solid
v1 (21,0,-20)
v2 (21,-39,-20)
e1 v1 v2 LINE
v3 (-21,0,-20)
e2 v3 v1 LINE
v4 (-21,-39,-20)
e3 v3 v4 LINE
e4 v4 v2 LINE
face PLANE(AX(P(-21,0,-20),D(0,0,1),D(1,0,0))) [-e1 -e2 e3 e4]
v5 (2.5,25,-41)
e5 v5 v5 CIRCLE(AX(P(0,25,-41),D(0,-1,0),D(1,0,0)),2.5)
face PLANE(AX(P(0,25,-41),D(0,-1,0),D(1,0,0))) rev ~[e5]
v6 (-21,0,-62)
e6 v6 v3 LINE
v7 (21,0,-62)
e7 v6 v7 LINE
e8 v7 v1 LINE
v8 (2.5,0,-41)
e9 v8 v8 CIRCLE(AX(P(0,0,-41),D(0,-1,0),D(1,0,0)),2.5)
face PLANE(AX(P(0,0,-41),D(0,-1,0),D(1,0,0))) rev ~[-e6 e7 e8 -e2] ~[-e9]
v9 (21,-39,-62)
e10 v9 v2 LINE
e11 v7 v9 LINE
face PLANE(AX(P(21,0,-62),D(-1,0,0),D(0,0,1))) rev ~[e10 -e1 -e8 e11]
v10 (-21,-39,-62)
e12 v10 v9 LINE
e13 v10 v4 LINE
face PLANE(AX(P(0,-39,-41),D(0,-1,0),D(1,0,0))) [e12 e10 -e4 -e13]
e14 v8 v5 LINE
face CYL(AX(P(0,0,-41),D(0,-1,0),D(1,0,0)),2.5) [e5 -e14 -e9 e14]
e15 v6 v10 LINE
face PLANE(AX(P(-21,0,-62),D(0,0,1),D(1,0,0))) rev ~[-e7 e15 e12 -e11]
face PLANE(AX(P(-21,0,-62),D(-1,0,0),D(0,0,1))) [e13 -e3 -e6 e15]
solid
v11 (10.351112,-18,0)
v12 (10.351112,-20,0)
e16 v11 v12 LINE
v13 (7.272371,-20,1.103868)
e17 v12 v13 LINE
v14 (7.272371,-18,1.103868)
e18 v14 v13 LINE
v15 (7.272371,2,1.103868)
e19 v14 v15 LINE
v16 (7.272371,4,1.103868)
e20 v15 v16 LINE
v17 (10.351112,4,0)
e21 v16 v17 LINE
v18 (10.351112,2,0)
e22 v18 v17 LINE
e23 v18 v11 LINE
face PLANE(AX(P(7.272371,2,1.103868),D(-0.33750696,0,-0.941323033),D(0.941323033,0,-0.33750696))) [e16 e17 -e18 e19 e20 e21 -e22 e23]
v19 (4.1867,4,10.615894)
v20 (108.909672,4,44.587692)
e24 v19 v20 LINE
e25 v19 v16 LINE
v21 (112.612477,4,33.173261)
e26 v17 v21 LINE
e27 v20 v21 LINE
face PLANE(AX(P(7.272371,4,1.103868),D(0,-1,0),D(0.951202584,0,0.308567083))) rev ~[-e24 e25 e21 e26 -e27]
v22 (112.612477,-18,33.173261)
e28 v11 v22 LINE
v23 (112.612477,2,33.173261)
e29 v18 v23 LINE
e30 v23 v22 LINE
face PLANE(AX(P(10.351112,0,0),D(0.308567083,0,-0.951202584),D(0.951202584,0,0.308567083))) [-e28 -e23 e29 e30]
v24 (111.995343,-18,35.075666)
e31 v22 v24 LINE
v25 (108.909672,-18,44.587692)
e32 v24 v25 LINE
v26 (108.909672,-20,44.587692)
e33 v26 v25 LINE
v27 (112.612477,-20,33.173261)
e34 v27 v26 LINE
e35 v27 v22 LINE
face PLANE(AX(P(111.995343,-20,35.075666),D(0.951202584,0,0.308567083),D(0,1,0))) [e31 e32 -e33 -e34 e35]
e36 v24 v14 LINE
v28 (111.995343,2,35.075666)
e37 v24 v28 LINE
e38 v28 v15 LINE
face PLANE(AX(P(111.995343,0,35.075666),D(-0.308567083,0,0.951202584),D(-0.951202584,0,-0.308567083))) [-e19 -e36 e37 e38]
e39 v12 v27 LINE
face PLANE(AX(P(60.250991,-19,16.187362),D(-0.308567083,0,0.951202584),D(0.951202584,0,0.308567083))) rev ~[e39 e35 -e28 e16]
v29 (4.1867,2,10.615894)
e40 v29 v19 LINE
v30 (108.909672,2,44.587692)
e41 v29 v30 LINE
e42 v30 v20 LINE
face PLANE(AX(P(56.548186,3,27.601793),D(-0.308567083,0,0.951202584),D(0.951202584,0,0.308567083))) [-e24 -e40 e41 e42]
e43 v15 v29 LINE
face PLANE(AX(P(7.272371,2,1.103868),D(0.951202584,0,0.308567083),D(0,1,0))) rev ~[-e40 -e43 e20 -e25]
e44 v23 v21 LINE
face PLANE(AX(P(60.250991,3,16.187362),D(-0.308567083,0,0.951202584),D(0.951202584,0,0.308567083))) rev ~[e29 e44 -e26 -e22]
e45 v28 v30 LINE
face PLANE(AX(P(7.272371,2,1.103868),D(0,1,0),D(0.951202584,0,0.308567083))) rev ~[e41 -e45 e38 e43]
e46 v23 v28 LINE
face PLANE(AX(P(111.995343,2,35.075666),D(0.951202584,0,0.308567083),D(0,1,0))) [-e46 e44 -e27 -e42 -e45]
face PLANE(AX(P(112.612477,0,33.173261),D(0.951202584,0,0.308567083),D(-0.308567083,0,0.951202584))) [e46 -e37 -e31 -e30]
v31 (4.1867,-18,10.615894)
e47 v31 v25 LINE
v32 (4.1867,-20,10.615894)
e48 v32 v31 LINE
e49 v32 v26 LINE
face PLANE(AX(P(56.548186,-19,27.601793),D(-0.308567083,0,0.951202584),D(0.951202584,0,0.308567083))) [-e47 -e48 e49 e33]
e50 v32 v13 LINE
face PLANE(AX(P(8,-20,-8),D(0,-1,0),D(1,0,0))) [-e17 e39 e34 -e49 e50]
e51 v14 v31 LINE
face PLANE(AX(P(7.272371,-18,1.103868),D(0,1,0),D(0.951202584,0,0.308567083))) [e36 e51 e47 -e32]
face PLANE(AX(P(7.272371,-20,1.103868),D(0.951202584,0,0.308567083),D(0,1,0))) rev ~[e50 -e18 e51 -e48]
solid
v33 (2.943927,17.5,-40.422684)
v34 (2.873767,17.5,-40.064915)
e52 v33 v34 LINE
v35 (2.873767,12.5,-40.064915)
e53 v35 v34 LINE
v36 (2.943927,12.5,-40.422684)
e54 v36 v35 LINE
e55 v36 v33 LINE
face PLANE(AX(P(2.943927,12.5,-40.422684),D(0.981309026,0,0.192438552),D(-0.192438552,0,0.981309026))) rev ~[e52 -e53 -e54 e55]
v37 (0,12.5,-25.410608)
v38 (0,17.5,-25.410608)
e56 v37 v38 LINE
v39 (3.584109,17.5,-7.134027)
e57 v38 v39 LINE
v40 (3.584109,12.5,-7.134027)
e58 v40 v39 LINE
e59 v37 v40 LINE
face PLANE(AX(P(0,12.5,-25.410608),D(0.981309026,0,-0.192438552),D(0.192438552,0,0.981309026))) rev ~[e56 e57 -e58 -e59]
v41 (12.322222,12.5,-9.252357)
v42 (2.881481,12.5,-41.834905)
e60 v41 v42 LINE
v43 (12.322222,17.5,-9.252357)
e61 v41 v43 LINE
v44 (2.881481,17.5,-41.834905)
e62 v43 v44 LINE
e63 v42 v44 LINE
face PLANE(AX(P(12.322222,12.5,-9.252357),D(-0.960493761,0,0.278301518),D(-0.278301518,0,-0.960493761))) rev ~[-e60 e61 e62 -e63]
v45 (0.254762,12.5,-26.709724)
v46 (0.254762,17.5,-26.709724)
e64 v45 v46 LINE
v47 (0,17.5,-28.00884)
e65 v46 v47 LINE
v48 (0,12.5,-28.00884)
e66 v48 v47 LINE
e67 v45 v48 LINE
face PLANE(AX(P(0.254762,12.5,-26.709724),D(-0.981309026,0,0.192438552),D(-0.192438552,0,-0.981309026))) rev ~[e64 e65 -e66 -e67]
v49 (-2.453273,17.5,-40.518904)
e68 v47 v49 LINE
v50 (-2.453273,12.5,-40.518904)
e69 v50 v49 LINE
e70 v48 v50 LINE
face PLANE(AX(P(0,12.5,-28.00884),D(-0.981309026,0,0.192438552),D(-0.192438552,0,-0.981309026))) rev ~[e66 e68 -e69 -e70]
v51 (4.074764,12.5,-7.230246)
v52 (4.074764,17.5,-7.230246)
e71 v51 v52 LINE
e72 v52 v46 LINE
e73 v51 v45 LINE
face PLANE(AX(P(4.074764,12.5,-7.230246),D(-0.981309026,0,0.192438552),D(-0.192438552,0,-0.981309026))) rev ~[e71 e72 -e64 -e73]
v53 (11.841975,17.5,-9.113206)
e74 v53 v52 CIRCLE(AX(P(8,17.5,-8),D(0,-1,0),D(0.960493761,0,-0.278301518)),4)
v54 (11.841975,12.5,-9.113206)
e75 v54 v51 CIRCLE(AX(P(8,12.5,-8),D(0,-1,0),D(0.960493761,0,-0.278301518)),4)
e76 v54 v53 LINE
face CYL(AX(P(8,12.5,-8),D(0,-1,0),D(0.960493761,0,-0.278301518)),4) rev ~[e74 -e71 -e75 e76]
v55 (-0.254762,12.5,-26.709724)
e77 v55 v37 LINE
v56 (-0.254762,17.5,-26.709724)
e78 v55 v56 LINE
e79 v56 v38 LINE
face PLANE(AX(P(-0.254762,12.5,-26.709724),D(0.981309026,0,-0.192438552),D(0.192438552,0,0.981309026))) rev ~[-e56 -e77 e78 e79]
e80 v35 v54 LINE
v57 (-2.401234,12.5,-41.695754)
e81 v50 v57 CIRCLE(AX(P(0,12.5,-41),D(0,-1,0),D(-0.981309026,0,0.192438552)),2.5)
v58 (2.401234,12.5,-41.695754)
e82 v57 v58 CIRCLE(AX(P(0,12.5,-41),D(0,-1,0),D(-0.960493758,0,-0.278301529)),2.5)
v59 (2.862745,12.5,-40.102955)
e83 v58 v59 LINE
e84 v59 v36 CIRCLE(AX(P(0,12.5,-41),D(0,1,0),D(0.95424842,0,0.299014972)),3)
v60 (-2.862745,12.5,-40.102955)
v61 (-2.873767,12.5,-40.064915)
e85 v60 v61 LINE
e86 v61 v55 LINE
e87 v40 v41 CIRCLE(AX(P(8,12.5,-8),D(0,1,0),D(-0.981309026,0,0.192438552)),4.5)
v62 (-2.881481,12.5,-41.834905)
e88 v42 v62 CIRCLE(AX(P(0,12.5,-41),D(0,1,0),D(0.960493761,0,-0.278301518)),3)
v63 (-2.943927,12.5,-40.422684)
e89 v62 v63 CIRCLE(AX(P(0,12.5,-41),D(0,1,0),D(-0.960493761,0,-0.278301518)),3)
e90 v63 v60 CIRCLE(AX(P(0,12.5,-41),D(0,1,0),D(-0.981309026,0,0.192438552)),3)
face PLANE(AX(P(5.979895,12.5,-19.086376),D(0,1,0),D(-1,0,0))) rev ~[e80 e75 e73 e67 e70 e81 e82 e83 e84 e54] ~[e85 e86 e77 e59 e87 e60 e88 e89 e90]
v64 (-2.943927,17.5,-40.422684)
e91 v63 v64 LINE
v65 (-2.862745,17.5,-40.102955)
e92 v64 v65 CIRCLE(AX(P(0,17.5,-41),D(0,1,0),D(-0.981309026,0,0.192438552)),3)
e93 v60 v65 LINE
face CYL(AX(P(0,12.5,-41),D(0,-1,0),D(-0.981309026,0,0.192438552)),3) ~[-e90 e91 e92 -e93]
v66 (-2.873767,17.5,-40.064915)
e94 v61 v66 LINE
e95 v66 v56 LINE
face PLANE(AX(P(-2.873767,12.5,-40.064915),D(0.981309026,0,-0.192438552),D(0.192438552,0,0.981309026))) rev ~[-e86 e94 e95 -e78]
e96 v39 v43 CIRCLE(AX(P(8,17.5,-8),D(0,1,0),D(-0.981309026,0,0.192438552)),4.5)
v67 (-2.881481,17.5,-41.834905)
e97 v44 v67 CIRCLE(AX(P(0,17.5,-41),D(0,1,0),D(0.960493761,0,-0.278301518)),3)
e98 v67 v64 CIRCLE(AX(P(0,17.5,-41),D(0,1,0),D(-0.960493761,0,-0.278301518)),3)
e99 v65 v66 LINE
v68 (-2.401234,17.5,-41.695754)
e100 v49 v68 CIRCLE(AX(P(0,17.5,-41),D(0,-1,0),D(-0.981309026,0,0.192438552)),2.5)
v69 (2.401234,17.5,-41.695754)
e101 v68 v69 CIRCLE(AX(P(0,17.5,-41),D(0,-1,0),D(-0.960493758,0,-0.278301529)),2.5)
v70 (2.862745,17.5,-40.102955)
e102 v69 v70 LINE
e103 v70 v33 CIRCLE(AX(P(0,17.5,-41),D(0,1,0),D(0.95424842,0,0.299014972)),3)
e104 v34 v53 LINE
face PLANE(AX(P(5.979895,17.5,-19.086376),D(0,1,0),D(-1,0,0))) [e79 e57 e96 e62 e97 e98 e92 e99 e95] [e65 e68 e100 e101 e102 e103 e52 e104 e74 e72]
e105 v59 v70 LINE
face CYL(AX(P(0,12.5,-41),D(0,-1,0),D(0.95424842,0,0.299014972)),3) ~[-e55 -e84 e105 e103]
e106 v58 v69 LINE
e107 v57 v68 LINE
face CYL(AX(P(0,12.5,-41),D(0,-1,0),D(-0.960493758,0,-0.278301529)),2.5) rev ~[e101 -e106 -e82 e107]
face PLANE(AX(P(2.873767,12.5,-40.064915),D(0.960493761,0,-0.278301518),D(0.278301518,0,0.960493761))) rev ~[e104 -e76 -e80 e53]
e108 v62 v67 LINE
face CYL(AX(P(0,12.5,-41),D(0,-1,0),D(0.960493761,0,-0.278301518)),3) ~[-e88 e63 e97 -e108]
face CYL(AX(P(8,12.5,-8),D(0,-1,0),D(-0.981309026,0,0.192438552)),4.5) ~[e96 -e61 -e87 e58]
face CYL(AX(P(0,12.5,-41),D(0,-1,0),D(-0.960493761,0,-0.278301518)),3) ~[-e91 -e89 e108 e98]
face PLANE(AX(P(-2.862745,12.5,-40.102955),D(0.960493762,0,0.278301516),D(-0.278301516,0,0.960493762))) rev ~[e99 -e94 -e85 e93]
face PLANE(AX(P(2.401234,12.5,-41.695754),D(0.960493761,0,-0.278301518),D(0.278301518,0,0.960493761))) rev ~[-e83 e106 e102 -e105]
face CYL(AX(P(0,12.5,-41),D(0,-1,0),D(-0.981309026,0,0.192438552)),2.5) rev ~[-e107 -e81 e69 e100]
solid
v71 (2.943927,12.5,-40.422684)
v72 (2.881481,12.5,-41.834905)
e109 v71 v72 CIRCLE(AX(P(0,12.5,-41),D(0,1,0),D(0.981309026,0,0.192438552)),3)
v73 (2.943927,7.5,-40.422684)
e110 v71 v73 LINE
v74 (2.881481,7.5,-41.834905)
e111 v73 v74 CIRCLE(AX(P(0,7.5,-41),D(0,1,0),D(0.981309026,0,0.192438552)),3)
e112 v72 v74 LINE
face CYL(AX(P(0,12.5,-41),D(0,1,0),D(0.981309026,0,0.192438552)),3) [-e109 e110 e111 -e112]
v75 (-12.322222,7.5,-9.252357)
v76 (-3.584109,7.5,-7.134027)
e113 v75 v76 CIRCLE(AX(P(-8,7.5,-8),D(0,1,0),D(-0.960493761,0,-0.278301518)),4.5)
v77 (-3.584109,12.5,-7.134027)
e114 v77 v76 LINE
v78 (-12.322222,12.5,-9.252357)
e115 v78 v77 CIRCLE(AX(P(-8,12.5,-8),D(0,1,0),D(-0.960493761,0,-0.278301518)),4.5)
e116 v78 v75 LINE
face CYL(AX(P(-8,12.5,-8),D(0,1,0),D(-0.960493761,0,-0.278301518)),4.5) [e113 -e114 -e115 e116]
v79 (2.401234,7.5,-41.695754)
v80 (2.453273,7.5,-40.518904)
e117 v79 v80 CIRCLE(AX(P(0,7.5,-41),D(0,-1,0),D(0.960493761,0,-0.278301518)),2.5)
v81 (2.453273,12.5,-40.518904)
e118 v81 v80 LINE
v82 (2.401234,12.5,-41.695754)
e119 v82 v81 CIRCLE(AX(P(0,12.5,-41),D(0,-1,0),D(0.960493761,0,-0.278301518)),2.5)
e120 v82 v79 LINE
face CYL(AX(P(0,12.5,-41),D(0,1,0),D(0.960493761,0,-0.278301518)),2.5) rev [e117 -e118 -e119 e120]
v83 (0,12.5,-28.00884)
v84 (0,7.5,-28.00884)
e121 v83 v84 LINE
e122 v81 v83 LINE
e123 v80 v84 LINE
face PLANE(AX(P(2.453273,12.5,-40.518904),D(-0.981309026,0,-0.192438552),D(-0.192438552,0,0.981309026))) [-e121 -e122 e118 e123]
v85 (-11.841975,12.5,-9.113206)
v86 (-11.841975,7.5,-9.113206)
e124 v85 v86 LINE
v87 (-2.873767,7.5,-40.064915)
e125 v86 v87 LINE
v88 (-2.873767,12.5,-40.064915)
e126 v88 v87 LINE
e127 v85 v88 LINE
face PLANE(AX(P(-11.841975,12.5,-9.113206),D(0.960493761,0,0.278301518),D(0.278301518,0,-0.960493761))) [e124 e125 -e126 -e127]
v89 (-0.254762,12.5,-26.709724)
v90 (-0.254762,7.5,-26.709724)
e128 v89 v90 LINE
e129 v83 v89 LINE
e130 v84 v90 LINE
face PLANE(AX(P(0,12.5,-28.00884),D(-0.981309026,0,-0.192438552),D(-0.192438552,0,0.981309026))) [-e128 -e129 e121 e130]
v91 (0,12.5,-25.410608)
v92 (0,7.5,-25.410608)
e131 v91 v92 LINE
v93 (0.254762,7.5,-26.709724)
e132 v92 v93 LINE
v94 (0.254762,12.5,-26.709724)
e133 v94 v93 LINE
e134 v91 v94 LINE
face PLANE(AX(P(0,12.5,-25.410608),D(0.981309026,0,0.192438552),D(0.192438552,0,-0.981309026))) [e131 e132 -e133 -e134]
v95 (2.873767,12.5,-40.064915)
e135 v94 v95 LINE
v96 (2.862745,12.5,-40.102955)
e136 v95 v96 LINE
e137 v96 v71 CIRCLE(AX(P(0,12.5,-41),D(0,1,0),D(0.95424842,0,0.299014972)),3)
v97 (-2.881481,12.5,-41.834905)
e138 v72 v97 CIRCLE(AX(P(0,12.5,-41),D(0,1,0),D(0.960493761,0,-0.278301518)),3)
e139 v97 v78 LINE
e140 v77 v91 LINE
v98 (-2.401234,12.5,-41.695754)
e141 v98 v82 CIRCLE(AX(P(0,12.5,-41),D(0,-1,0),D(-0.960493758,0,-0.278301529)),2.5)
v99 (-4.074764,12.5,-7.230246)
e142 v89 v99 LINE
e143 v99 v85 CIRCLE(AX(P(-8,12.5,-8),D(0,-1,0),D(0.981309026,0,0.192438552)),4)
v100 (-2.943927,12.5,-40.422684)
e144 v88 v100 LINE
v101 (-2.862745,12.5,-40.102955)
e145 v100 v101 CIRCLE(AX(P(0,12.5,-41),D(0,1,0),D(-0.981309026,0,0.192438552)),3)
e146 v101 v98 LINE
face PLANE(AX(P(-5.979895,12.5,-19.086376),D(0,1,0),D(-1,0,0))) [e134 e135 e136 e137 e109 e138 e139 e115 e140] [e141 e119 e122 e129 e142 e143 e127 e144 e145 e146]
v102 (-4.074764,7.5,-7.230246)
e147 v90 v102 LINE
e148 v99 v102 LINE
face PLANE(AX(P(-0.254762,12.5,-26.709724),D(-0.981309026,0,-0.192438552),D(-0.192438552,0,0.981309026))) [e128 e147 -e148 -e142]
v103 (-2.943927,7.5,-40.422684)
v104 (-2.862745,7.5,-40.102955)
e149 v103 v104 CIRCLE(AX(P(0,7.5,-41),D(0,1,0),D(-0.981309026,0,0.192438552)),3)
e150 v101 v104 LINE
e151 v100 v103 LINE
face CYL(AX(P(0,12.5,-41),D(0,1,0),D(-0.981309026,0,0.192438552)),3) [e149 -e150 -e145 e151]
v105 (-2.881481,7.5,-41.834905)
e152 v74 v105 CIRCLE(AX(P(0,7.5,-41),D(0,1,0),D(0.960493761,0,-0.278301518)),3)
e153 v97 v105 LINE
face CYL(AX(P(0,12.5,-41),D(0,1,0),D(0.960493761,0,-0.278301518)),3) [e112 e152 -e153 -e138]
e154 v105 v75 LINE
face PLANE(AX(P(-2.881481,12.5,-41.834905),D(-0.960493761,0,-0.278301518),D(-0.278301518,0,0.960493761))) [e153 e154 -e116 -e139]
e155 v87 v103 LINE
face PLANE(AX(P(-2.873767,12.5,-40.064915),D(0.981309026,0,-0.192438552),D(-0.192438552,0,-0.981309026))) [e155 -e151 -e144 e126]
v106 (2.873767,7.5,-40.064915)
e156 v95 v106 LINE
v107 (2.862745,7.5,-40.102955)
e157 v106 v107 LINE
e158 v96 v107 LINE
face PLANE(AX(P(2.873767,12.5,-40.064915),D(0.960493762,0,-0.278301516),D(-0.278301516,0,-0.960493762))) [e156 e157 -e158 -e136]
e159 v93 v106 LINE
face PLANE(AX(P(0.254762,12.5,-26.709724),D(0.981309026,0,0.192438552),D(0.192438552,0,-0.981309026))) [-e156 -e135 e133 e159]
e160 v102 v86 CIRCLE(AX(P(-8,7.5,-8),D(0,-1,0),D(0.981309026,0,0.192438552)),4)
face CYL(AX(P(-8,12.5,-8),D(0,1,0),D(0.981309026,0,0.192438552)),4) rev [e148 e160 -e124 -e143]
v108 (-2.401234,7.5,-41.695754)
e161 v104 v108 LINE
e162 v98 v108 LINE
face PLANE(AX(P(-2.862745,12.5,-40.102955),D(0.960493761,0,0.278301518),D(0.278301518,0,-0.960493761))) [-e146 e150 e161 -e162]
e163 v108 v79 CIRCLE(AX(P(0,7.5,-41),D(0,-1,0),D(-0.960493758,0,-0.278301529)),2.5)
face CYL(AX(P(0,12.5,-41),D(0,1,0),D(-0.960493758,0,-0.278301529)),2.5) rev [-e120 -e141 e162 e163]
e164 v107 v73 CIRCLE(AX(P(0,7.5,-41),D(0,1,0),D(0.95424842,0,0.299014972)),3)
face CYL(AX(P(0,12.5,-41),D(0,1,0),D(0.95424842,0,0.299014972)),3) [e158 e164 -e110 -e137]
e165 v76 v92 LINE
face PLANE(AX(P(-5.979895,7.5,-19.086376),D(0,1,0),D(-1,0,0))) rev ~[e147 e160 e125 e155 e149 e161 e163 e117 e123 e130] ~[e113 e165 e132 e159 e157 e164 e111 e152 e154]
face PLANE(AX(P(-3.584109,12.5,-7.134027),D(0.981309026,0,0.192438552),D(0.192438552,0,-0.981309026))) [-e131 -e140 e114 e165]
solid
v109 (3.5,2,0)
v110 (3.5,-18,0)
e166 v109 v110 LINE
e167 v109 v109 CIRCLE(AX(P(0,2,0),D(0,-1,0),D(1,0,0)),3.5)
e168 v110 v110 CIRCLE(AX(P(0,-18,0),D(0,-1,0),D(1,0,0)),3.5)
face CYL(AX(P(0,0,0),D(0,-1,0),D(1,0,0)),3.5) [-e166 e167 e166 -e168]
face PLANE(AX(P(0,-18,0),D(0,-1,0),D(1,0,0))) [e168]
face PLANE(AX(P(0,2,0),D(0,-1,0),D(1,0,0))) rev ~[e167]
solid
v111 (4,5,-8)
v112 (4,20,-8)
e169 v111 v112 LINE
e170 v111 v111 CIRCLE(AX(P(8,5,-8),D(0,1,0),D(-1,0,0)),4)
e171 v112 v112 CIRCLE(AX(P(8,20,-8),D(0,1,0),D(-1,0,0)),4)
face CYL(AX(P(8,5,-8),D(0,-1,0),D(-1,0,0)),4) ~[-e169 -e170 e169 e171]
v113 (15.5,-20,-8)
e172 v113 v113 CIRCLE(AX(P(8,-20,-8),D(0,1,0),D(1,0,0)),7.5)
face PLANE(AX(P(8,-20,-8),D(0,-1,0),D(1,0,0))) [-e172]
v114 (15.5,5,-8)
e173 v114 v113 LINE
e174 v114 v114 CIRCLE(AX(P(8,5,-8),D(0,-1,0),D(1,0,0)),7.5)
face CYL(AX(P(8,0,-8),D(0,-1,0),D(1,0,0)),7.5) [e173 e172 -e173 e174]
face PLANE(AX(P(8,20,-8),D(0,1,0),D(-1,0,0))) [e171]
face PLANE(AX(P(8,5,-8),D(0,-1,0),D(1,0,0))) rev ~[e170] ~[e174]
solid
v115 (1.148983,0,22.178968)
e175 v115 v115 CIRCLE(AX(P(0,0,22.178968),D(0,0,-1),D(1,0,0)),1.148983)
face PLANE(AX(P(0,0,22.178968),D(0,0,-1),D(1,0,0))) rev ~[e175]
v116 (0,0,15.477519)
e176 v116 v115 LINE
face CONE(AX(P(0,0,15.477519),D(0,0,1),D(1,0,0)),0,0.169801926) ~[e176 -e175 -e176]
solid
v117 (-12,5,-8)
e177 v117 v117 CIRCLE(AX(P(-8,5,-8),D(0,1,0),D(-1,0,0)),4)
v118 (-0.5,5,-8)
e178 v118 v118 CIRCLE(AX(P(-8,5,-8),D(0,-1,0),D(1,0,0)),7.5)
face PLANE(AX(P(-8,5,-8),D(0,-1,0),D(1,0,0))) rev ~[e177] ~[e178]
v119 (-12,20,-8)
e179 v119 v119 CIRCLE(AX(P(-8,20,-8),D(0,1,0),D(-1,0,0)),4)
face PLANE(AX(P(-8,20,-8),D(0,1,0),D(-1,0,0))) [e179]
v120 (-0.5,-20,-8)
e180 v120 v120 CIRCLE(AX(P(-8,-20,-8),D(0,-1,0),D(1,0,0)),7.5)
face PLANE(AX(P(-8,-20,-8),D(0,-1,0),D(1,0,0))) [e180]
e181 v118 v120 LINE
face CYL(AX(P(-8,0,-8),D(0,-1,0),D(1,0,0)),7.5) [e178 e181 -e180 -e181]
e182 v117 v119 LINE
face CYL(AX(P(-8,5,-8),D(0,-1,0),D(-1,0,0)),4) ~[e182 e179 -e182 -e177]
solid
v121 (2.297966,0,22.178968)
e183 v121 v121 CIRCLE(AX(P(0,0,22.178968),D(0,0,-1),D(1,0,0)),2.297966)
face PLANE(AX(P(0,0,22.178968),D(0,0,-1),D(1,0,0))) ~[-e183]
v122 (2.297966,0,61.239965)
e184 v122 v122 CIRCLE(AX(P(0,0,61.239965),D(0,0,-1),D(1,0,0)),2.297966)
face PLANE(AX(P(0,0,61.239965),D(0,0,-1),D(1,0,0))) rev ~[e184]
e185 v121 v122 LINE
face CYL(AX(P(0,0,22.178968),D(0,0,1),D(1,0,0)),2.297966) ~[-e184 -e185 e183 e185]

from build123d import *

# Parameters (mm, degrees)
F0_R           = 7.5
F1_DEPTH       = 20
F1_DEPTH_BACK  = 5
F0_W           = 42
F0_H           = 42
F0_R_2         = 2.5
F2_DEPTH       = 39
F0_R_3         = 3.5
F3_DEPTH       = 18
F3_DEPTH_BACK  = 2
F4_DEPTH       = 39
F5_DEPTH       = 25
F6_R           = 4
F7_DEPTH       = 15
F10_DEPTH      = 5
F11_DEPTH      = 5
F16_DEPTH      = 18
F16_DEPTH_BACK = 2
F17_W          = 110.0953395209
F17_H          = 2
F18_DEPTH      = 10
F18_DEPTH_BACK = 2
F19_DEPTH      = 25
F20_DEPTH      = 25


with BuildPart() as f1:
    # F0 (on Front) → F1 (new body, two sides)
    with BuildSketch(Plane.XZ) as f1_sk:
        with Locations((-8, -8)):
            Circle(F0_R)
    extrude(amount=F1_DEPTH)
    extrude(f1_sk.sketch, amount=-F1_DEPTH_BACK)

    # F6 (on face) → F7, piece 2 (join)
    with BuildSketch(Plane(origin=(0, 5, 0), x_dir=(-1, 0, 0), z_dir=(0, 1, 0))):
        with Locations((8, -8)):
            Circle(F6_R)
    extrude(amount=F7_DEPTH)


with BuildPart() as f1b:
    # F0 (on Front) → F1, piece 2 (new body, two sides)
    with BuildSketch(Plane.XZ) as f1_2_sk:
        with Locations((8, -8)):
            Circle(F0_R)
    extrude(amount=F1_DEPTH)
    extrude(f1_2_sk.sketch, amount=-F1_DEPTH_BACK)

    # F6 (on face) → F7 (join)
    with BuildSketch(Plane(origin=(0, 5, 0), x_dir=(-1, 0, 0), z_dir=(0, 1, 0))):
        with Locations((-8, -8)):
            Circle(F6_R)
    extrude(amount=F7_DEPTH)



with BuildPart() as f2:
    # F0 (on Front) → F2 (new body)
    with BuildSketch(Plane.XZ):
        with Locations((0, -41)):
            Rectangle(F0_W, F0_H)
        with Locations((0, -41)):
            Circle(F0_R_2, mode=Mode.SUBTRACT)
    extrude(amount=F2_DEPTH)

    # F0 (on Front) → F4 (join)
    with BuildSketch(Plane.XZ):
        with Locations((0, -41)):
            Circle(F0_R_2)
    extrude(amount=F4_DEPTH)

    # F0 (on Front) → F5 (join)
    with BuildSketch(Plane.XZ):
        with Locations((0, -41)):
            Circle(F0_R_2)
    extrude(amount=-F5_DEPTH)


with BuildPart() as f3:
    # F0 (on Front) → F3 (new body, two sides)
    with BuildSketch(Plane.XZ) as f3_sk:
        Circle(F0_R_3)
    extrude(amount=F3_DEPTH)
    extrude(f3_sk.sketch, amount=-F3_DEPTH_BACK)


with BuildPart() as f10:
    # F9 (on offset) → F10 (new body)
    with BuildSketch(Plane(origin=(0, 12.5, 0), x_dir=(-1, 0, 0), z_dir=(0, 1, 0))):
        with BuildLine():
            Line((0, -25.4106080933), (-3.5841093846, -7.1340265175))
            ThreePointArc((-3.5841093846, -7.1340265175), (-9.0602001153, -3.6266745244), (-12.3222219251, -9.2523568303))
            Line((-12.3222219251, -9.2523568303), (-2.8814812834, -41.8349045535))
            ThreePointArc((-2.8814812834, -41.8349045535), (-2.997071424, -41.1325250144), (-2.943927077, -40.422684345))
            Line((-2.943927077, -40.422684345), (-2.8737671883, -40.0649154294))
            Line((-2.8737671883, -40.0649154294), (-11.8419750445, -9.1132060714))
            ThreePointArc((-11.8419750445, -9.1132060714), (-8.9424001025, -4.1125995772), (-4.0747638974, -7.2302457933))
            Line((-4.0747638974, -7.2302457933), (-0.2547617452, -26.7097240855))
            Line((-0.2547617452, -26.7097240855), (0, -25.4106080933))
        make_face()
        Polygon((0.2547617452, -26.7097240855), (0, -25.4106080933), (-0.2547617452, -26.7097240855), (0, -28.0088400777), align=None)
        with BuildLine():
            Line((2.8737671883, -40.0649154294), (0.2547617452, -26.7097240855))
            Line((0.2547617452, -26.7097240855), (0, -28.0088400777))
            Line((0, -28.0088400777), (2.4532725641, -40.5189036208))
            ThreePointArc((2.4532725641, -40.5189036208), (2.4975595193, -41.110437527), (2.4012343945, -41.6957538234))
            Line((2.4012343945, -41.6957538234), (2.8627452595, -40.1029550851))
            Line((2.8627452595, -40.1029550851), (2.8737671883, -40.0649154294))
        make_face()
        with BuildLine():
            ThreePointArc((-2.943927077, -40.422684345), (-2.997071424, -41.1325250144), (-2.8814812834, -41.8349045535))
            ThreePointArc((-2.8814812834, -41.8349045535), (0, -44), (2.8814812834, -41.8349045535))
            ThreePointArc((2.8814812834, -41.8349045535), (2.997071424, -41.1325250144), (2.943927077, -40.422684345))
            ThreePointArc((2.943927077, -40.422684345), (2.9077341016, -40.2617030445), (2.8627452595, -40.1029550851))
            Line((2.8627452595, -40.1029550851), (2.4012343945, -41.6957538234))
            ThreePointArc((2.4012343945, -41.6957538234), (-1.5e-08, -43.5), (-2.4012344028, -41.6957537946))
            Line((-2.4012344028, -41.6957537946), (-2.8627452595, -40.1029550851))
            ThreePointArc((-2.8627452595, -40.1029550851), (-2.9077341016, -40.2617030445), (-2.943927077, -40.422684345))
        make_face()
    extrude(amount=F10_DEPTH)


with BuildPart() as f11:
    # F9 (on offset) → F11 (new body)
    with BuildSketch(Plane(origin=(0, 12.5, 0), x_dir=(-1, 0, 0), z_dir=(0, 1, 0))):
        with BuildLine():
            Line((3.5841093846, -7.1340265175), (0, -25.4106080933))
            Line((0, -25.4106080933), (0.2547617452, -26.7097240855))
            Line((0.2547617452, -26.7097240855), (4.0747638974, -7.2302457933))
            ThreePointArc((4.0747638974, -7.2302457933), (8.9424001025, -4.1125995772), (11.8419750445, -9.1132060714))
            Line((11.8419750445, -9.1132060714), (2.8737671883, -40.0649154294))
            Line((2.8737671883, -40.0649154294), (2.943927077, -40.422684345))
            ThreePointArc((2.943927077, -40.422684345), (2.997071424, -41.1325250144), (2.8814812834, -41.8349045535))
            Line((2.8814812834, -41.8349045535), (12.3222219251, -9.2523568303))
            ThreePointArc((12.3222219251, -9.2523568303), (9.0602001153, -3.6266745244), (3.5841093846, -7.1340265175))
        make_face()
        Polygon((0.2547617452, -26.7097240855), (0, -25.4106080933), (-0.2547617452, -26.7097240855), (0, -28.0088400777), align=None)
        with BuildLine():
            Line((0, -28.0088400777), (-0.2547617452, -26.7097240855))
            Line((-0.2547617452, -26.7097240855), (-2.8737671883, -40.0649154294))
            Line((-2.8737671883, -40.0649154294), (-2.8627452595, -40.1029550851))
            Line((-2.8627452595, -40.1029550851), (-2.4012344028, -41.6957537946))
            ThreePointArc((-2.4012344028, -41.6957537946), (-2.49755952, -41.110437512), (-2.4532725641, -40.5189036208))
            Line((-2.4532725641, -40.5189036208), (0, -28.0088400777))
        make_face()
        with BuildLine():
            ThreePointArc((-2.943927077, -40.422684345), (-2.997071424, -41.1325250144), (-2.8814812834, -41.8349045535))
            ThreePointArc((-2.8814812834, -41.8349045535), (0, -44), (2.8814812834, -41.8349045535))
            ThreePointArc((2.8814812834, -41.8349045535), (2.997071424, -41.1325250144), (2.943927077, -40.422684345))
            ThreePointArc((2.943927077, -40.422684345), (2.9077341016, -40.2617030445), (2.8627452595, -40.1029550851))
            Line((2.8627452595, -40.1029550851), (2.4012343945, -41.6957538234))
            ThreePointArc((2.4012343945, -41.6957538234), (-1.5e-08, -43.5), (-2.4012344028, -41.6957537946))
            Line((-2.4012344028, -41.6957537946), (-2.8627452595, -40.1029550851))
            ThreePointArc((-2.8627452595, -40.1029550851), (-2.9077341016, -40.2617030445), (-2.943927077, -40.422684345))
        make_face()
    extrude(amount=-F11_DEPTH)


with BuildPart() as f13:
    # F12 (on Front) → F13 (revolve)
    with BuildSketch(Plane.XZ):
        Polygon((2.2979662754, 61.23996526), (0, 61.23996526), (0, 22.1789684147), (1.1489831377, 22.1789684147), (2.2979662754, 22.1789684147), align=None)
    revolve(axis=Axis((0, 0, 39.4970257767), (0, 0, -1)))


with BuildPart() as f14:
    # F12 (on Front) → F14 (revolve)
    with BuildSketch(Plane.XZ):
        Polygon((1.1489831377, 22.1789684147), (0, 22.1789684147), (0, 15.4775185511), align=None)
    revolve(axis=Axis((0, 0, 39.4970257767), (0, 0, -1)))


with BuildPart() as f16:
    # F15 (on Front) → F16 (new body, two sides)
    with BuildSketch(Plane.XZ) as f16_sk:
        Polygon((7.2723712932, 1.1038679485), (10.3511117253, 0), (112.6124768567, 33.1732605853), (111.99534269, 35.0756657526), align=None)
    extrude(amount=F16_DEPTH)
    extrude(f16_sk.sketch, amount=-F16_DEPTH_BACK)


with BuildPart() as f1b_1:
    add(f1b.part)

    add(f16.part)  # F18 merges F16
    # F17 (on face) → F18 (join, two sides)
    with BuildSketch(Plane(origin=(0.3684329096, 0, -1.1357476363), x_dir=(0.9512025836, 0, 0.3085670833), z_dir=(-0.3085670833, 0, 0.9512025836))) as f18_sk:
        with Locations((62.3057854368, 3)):
            Rectangle(F17_W, F17_H)
        with Locations((62.3057854368, -19)):
            Rectangle(F17_W, F17_H)
    extrude(amount=F18_DEPTH)
    extrude(f18_sk.sketch, amount=-F18_DEPTH_BACK)

    # F19 (cut): a face of the model
    f19_faces = [f1b_1.faces().sort_by_distance(p)[0] for p in [
        (8.5256529061, -18, 0.1428645361),
    ]]
    extrude(f19_faces, amount=-F19_DEPTH, mode=Mode.SUBTRACT)

    # F20 (cut): a face of the model
    f20_faces = [f1b_1.faces().sort_by_distance(p)[0] for p in [
        (8.5256529061, 2, 0.1428645361),
    ]]
    extrude(f20_faces, amount=-F20_DEPTH, mode=Mode.SUBTRACT)


solid = Compound([f1.part, f2.part, f3.part, f10.part, f11.part, f13.part, f14.part, f1b_1.part])
